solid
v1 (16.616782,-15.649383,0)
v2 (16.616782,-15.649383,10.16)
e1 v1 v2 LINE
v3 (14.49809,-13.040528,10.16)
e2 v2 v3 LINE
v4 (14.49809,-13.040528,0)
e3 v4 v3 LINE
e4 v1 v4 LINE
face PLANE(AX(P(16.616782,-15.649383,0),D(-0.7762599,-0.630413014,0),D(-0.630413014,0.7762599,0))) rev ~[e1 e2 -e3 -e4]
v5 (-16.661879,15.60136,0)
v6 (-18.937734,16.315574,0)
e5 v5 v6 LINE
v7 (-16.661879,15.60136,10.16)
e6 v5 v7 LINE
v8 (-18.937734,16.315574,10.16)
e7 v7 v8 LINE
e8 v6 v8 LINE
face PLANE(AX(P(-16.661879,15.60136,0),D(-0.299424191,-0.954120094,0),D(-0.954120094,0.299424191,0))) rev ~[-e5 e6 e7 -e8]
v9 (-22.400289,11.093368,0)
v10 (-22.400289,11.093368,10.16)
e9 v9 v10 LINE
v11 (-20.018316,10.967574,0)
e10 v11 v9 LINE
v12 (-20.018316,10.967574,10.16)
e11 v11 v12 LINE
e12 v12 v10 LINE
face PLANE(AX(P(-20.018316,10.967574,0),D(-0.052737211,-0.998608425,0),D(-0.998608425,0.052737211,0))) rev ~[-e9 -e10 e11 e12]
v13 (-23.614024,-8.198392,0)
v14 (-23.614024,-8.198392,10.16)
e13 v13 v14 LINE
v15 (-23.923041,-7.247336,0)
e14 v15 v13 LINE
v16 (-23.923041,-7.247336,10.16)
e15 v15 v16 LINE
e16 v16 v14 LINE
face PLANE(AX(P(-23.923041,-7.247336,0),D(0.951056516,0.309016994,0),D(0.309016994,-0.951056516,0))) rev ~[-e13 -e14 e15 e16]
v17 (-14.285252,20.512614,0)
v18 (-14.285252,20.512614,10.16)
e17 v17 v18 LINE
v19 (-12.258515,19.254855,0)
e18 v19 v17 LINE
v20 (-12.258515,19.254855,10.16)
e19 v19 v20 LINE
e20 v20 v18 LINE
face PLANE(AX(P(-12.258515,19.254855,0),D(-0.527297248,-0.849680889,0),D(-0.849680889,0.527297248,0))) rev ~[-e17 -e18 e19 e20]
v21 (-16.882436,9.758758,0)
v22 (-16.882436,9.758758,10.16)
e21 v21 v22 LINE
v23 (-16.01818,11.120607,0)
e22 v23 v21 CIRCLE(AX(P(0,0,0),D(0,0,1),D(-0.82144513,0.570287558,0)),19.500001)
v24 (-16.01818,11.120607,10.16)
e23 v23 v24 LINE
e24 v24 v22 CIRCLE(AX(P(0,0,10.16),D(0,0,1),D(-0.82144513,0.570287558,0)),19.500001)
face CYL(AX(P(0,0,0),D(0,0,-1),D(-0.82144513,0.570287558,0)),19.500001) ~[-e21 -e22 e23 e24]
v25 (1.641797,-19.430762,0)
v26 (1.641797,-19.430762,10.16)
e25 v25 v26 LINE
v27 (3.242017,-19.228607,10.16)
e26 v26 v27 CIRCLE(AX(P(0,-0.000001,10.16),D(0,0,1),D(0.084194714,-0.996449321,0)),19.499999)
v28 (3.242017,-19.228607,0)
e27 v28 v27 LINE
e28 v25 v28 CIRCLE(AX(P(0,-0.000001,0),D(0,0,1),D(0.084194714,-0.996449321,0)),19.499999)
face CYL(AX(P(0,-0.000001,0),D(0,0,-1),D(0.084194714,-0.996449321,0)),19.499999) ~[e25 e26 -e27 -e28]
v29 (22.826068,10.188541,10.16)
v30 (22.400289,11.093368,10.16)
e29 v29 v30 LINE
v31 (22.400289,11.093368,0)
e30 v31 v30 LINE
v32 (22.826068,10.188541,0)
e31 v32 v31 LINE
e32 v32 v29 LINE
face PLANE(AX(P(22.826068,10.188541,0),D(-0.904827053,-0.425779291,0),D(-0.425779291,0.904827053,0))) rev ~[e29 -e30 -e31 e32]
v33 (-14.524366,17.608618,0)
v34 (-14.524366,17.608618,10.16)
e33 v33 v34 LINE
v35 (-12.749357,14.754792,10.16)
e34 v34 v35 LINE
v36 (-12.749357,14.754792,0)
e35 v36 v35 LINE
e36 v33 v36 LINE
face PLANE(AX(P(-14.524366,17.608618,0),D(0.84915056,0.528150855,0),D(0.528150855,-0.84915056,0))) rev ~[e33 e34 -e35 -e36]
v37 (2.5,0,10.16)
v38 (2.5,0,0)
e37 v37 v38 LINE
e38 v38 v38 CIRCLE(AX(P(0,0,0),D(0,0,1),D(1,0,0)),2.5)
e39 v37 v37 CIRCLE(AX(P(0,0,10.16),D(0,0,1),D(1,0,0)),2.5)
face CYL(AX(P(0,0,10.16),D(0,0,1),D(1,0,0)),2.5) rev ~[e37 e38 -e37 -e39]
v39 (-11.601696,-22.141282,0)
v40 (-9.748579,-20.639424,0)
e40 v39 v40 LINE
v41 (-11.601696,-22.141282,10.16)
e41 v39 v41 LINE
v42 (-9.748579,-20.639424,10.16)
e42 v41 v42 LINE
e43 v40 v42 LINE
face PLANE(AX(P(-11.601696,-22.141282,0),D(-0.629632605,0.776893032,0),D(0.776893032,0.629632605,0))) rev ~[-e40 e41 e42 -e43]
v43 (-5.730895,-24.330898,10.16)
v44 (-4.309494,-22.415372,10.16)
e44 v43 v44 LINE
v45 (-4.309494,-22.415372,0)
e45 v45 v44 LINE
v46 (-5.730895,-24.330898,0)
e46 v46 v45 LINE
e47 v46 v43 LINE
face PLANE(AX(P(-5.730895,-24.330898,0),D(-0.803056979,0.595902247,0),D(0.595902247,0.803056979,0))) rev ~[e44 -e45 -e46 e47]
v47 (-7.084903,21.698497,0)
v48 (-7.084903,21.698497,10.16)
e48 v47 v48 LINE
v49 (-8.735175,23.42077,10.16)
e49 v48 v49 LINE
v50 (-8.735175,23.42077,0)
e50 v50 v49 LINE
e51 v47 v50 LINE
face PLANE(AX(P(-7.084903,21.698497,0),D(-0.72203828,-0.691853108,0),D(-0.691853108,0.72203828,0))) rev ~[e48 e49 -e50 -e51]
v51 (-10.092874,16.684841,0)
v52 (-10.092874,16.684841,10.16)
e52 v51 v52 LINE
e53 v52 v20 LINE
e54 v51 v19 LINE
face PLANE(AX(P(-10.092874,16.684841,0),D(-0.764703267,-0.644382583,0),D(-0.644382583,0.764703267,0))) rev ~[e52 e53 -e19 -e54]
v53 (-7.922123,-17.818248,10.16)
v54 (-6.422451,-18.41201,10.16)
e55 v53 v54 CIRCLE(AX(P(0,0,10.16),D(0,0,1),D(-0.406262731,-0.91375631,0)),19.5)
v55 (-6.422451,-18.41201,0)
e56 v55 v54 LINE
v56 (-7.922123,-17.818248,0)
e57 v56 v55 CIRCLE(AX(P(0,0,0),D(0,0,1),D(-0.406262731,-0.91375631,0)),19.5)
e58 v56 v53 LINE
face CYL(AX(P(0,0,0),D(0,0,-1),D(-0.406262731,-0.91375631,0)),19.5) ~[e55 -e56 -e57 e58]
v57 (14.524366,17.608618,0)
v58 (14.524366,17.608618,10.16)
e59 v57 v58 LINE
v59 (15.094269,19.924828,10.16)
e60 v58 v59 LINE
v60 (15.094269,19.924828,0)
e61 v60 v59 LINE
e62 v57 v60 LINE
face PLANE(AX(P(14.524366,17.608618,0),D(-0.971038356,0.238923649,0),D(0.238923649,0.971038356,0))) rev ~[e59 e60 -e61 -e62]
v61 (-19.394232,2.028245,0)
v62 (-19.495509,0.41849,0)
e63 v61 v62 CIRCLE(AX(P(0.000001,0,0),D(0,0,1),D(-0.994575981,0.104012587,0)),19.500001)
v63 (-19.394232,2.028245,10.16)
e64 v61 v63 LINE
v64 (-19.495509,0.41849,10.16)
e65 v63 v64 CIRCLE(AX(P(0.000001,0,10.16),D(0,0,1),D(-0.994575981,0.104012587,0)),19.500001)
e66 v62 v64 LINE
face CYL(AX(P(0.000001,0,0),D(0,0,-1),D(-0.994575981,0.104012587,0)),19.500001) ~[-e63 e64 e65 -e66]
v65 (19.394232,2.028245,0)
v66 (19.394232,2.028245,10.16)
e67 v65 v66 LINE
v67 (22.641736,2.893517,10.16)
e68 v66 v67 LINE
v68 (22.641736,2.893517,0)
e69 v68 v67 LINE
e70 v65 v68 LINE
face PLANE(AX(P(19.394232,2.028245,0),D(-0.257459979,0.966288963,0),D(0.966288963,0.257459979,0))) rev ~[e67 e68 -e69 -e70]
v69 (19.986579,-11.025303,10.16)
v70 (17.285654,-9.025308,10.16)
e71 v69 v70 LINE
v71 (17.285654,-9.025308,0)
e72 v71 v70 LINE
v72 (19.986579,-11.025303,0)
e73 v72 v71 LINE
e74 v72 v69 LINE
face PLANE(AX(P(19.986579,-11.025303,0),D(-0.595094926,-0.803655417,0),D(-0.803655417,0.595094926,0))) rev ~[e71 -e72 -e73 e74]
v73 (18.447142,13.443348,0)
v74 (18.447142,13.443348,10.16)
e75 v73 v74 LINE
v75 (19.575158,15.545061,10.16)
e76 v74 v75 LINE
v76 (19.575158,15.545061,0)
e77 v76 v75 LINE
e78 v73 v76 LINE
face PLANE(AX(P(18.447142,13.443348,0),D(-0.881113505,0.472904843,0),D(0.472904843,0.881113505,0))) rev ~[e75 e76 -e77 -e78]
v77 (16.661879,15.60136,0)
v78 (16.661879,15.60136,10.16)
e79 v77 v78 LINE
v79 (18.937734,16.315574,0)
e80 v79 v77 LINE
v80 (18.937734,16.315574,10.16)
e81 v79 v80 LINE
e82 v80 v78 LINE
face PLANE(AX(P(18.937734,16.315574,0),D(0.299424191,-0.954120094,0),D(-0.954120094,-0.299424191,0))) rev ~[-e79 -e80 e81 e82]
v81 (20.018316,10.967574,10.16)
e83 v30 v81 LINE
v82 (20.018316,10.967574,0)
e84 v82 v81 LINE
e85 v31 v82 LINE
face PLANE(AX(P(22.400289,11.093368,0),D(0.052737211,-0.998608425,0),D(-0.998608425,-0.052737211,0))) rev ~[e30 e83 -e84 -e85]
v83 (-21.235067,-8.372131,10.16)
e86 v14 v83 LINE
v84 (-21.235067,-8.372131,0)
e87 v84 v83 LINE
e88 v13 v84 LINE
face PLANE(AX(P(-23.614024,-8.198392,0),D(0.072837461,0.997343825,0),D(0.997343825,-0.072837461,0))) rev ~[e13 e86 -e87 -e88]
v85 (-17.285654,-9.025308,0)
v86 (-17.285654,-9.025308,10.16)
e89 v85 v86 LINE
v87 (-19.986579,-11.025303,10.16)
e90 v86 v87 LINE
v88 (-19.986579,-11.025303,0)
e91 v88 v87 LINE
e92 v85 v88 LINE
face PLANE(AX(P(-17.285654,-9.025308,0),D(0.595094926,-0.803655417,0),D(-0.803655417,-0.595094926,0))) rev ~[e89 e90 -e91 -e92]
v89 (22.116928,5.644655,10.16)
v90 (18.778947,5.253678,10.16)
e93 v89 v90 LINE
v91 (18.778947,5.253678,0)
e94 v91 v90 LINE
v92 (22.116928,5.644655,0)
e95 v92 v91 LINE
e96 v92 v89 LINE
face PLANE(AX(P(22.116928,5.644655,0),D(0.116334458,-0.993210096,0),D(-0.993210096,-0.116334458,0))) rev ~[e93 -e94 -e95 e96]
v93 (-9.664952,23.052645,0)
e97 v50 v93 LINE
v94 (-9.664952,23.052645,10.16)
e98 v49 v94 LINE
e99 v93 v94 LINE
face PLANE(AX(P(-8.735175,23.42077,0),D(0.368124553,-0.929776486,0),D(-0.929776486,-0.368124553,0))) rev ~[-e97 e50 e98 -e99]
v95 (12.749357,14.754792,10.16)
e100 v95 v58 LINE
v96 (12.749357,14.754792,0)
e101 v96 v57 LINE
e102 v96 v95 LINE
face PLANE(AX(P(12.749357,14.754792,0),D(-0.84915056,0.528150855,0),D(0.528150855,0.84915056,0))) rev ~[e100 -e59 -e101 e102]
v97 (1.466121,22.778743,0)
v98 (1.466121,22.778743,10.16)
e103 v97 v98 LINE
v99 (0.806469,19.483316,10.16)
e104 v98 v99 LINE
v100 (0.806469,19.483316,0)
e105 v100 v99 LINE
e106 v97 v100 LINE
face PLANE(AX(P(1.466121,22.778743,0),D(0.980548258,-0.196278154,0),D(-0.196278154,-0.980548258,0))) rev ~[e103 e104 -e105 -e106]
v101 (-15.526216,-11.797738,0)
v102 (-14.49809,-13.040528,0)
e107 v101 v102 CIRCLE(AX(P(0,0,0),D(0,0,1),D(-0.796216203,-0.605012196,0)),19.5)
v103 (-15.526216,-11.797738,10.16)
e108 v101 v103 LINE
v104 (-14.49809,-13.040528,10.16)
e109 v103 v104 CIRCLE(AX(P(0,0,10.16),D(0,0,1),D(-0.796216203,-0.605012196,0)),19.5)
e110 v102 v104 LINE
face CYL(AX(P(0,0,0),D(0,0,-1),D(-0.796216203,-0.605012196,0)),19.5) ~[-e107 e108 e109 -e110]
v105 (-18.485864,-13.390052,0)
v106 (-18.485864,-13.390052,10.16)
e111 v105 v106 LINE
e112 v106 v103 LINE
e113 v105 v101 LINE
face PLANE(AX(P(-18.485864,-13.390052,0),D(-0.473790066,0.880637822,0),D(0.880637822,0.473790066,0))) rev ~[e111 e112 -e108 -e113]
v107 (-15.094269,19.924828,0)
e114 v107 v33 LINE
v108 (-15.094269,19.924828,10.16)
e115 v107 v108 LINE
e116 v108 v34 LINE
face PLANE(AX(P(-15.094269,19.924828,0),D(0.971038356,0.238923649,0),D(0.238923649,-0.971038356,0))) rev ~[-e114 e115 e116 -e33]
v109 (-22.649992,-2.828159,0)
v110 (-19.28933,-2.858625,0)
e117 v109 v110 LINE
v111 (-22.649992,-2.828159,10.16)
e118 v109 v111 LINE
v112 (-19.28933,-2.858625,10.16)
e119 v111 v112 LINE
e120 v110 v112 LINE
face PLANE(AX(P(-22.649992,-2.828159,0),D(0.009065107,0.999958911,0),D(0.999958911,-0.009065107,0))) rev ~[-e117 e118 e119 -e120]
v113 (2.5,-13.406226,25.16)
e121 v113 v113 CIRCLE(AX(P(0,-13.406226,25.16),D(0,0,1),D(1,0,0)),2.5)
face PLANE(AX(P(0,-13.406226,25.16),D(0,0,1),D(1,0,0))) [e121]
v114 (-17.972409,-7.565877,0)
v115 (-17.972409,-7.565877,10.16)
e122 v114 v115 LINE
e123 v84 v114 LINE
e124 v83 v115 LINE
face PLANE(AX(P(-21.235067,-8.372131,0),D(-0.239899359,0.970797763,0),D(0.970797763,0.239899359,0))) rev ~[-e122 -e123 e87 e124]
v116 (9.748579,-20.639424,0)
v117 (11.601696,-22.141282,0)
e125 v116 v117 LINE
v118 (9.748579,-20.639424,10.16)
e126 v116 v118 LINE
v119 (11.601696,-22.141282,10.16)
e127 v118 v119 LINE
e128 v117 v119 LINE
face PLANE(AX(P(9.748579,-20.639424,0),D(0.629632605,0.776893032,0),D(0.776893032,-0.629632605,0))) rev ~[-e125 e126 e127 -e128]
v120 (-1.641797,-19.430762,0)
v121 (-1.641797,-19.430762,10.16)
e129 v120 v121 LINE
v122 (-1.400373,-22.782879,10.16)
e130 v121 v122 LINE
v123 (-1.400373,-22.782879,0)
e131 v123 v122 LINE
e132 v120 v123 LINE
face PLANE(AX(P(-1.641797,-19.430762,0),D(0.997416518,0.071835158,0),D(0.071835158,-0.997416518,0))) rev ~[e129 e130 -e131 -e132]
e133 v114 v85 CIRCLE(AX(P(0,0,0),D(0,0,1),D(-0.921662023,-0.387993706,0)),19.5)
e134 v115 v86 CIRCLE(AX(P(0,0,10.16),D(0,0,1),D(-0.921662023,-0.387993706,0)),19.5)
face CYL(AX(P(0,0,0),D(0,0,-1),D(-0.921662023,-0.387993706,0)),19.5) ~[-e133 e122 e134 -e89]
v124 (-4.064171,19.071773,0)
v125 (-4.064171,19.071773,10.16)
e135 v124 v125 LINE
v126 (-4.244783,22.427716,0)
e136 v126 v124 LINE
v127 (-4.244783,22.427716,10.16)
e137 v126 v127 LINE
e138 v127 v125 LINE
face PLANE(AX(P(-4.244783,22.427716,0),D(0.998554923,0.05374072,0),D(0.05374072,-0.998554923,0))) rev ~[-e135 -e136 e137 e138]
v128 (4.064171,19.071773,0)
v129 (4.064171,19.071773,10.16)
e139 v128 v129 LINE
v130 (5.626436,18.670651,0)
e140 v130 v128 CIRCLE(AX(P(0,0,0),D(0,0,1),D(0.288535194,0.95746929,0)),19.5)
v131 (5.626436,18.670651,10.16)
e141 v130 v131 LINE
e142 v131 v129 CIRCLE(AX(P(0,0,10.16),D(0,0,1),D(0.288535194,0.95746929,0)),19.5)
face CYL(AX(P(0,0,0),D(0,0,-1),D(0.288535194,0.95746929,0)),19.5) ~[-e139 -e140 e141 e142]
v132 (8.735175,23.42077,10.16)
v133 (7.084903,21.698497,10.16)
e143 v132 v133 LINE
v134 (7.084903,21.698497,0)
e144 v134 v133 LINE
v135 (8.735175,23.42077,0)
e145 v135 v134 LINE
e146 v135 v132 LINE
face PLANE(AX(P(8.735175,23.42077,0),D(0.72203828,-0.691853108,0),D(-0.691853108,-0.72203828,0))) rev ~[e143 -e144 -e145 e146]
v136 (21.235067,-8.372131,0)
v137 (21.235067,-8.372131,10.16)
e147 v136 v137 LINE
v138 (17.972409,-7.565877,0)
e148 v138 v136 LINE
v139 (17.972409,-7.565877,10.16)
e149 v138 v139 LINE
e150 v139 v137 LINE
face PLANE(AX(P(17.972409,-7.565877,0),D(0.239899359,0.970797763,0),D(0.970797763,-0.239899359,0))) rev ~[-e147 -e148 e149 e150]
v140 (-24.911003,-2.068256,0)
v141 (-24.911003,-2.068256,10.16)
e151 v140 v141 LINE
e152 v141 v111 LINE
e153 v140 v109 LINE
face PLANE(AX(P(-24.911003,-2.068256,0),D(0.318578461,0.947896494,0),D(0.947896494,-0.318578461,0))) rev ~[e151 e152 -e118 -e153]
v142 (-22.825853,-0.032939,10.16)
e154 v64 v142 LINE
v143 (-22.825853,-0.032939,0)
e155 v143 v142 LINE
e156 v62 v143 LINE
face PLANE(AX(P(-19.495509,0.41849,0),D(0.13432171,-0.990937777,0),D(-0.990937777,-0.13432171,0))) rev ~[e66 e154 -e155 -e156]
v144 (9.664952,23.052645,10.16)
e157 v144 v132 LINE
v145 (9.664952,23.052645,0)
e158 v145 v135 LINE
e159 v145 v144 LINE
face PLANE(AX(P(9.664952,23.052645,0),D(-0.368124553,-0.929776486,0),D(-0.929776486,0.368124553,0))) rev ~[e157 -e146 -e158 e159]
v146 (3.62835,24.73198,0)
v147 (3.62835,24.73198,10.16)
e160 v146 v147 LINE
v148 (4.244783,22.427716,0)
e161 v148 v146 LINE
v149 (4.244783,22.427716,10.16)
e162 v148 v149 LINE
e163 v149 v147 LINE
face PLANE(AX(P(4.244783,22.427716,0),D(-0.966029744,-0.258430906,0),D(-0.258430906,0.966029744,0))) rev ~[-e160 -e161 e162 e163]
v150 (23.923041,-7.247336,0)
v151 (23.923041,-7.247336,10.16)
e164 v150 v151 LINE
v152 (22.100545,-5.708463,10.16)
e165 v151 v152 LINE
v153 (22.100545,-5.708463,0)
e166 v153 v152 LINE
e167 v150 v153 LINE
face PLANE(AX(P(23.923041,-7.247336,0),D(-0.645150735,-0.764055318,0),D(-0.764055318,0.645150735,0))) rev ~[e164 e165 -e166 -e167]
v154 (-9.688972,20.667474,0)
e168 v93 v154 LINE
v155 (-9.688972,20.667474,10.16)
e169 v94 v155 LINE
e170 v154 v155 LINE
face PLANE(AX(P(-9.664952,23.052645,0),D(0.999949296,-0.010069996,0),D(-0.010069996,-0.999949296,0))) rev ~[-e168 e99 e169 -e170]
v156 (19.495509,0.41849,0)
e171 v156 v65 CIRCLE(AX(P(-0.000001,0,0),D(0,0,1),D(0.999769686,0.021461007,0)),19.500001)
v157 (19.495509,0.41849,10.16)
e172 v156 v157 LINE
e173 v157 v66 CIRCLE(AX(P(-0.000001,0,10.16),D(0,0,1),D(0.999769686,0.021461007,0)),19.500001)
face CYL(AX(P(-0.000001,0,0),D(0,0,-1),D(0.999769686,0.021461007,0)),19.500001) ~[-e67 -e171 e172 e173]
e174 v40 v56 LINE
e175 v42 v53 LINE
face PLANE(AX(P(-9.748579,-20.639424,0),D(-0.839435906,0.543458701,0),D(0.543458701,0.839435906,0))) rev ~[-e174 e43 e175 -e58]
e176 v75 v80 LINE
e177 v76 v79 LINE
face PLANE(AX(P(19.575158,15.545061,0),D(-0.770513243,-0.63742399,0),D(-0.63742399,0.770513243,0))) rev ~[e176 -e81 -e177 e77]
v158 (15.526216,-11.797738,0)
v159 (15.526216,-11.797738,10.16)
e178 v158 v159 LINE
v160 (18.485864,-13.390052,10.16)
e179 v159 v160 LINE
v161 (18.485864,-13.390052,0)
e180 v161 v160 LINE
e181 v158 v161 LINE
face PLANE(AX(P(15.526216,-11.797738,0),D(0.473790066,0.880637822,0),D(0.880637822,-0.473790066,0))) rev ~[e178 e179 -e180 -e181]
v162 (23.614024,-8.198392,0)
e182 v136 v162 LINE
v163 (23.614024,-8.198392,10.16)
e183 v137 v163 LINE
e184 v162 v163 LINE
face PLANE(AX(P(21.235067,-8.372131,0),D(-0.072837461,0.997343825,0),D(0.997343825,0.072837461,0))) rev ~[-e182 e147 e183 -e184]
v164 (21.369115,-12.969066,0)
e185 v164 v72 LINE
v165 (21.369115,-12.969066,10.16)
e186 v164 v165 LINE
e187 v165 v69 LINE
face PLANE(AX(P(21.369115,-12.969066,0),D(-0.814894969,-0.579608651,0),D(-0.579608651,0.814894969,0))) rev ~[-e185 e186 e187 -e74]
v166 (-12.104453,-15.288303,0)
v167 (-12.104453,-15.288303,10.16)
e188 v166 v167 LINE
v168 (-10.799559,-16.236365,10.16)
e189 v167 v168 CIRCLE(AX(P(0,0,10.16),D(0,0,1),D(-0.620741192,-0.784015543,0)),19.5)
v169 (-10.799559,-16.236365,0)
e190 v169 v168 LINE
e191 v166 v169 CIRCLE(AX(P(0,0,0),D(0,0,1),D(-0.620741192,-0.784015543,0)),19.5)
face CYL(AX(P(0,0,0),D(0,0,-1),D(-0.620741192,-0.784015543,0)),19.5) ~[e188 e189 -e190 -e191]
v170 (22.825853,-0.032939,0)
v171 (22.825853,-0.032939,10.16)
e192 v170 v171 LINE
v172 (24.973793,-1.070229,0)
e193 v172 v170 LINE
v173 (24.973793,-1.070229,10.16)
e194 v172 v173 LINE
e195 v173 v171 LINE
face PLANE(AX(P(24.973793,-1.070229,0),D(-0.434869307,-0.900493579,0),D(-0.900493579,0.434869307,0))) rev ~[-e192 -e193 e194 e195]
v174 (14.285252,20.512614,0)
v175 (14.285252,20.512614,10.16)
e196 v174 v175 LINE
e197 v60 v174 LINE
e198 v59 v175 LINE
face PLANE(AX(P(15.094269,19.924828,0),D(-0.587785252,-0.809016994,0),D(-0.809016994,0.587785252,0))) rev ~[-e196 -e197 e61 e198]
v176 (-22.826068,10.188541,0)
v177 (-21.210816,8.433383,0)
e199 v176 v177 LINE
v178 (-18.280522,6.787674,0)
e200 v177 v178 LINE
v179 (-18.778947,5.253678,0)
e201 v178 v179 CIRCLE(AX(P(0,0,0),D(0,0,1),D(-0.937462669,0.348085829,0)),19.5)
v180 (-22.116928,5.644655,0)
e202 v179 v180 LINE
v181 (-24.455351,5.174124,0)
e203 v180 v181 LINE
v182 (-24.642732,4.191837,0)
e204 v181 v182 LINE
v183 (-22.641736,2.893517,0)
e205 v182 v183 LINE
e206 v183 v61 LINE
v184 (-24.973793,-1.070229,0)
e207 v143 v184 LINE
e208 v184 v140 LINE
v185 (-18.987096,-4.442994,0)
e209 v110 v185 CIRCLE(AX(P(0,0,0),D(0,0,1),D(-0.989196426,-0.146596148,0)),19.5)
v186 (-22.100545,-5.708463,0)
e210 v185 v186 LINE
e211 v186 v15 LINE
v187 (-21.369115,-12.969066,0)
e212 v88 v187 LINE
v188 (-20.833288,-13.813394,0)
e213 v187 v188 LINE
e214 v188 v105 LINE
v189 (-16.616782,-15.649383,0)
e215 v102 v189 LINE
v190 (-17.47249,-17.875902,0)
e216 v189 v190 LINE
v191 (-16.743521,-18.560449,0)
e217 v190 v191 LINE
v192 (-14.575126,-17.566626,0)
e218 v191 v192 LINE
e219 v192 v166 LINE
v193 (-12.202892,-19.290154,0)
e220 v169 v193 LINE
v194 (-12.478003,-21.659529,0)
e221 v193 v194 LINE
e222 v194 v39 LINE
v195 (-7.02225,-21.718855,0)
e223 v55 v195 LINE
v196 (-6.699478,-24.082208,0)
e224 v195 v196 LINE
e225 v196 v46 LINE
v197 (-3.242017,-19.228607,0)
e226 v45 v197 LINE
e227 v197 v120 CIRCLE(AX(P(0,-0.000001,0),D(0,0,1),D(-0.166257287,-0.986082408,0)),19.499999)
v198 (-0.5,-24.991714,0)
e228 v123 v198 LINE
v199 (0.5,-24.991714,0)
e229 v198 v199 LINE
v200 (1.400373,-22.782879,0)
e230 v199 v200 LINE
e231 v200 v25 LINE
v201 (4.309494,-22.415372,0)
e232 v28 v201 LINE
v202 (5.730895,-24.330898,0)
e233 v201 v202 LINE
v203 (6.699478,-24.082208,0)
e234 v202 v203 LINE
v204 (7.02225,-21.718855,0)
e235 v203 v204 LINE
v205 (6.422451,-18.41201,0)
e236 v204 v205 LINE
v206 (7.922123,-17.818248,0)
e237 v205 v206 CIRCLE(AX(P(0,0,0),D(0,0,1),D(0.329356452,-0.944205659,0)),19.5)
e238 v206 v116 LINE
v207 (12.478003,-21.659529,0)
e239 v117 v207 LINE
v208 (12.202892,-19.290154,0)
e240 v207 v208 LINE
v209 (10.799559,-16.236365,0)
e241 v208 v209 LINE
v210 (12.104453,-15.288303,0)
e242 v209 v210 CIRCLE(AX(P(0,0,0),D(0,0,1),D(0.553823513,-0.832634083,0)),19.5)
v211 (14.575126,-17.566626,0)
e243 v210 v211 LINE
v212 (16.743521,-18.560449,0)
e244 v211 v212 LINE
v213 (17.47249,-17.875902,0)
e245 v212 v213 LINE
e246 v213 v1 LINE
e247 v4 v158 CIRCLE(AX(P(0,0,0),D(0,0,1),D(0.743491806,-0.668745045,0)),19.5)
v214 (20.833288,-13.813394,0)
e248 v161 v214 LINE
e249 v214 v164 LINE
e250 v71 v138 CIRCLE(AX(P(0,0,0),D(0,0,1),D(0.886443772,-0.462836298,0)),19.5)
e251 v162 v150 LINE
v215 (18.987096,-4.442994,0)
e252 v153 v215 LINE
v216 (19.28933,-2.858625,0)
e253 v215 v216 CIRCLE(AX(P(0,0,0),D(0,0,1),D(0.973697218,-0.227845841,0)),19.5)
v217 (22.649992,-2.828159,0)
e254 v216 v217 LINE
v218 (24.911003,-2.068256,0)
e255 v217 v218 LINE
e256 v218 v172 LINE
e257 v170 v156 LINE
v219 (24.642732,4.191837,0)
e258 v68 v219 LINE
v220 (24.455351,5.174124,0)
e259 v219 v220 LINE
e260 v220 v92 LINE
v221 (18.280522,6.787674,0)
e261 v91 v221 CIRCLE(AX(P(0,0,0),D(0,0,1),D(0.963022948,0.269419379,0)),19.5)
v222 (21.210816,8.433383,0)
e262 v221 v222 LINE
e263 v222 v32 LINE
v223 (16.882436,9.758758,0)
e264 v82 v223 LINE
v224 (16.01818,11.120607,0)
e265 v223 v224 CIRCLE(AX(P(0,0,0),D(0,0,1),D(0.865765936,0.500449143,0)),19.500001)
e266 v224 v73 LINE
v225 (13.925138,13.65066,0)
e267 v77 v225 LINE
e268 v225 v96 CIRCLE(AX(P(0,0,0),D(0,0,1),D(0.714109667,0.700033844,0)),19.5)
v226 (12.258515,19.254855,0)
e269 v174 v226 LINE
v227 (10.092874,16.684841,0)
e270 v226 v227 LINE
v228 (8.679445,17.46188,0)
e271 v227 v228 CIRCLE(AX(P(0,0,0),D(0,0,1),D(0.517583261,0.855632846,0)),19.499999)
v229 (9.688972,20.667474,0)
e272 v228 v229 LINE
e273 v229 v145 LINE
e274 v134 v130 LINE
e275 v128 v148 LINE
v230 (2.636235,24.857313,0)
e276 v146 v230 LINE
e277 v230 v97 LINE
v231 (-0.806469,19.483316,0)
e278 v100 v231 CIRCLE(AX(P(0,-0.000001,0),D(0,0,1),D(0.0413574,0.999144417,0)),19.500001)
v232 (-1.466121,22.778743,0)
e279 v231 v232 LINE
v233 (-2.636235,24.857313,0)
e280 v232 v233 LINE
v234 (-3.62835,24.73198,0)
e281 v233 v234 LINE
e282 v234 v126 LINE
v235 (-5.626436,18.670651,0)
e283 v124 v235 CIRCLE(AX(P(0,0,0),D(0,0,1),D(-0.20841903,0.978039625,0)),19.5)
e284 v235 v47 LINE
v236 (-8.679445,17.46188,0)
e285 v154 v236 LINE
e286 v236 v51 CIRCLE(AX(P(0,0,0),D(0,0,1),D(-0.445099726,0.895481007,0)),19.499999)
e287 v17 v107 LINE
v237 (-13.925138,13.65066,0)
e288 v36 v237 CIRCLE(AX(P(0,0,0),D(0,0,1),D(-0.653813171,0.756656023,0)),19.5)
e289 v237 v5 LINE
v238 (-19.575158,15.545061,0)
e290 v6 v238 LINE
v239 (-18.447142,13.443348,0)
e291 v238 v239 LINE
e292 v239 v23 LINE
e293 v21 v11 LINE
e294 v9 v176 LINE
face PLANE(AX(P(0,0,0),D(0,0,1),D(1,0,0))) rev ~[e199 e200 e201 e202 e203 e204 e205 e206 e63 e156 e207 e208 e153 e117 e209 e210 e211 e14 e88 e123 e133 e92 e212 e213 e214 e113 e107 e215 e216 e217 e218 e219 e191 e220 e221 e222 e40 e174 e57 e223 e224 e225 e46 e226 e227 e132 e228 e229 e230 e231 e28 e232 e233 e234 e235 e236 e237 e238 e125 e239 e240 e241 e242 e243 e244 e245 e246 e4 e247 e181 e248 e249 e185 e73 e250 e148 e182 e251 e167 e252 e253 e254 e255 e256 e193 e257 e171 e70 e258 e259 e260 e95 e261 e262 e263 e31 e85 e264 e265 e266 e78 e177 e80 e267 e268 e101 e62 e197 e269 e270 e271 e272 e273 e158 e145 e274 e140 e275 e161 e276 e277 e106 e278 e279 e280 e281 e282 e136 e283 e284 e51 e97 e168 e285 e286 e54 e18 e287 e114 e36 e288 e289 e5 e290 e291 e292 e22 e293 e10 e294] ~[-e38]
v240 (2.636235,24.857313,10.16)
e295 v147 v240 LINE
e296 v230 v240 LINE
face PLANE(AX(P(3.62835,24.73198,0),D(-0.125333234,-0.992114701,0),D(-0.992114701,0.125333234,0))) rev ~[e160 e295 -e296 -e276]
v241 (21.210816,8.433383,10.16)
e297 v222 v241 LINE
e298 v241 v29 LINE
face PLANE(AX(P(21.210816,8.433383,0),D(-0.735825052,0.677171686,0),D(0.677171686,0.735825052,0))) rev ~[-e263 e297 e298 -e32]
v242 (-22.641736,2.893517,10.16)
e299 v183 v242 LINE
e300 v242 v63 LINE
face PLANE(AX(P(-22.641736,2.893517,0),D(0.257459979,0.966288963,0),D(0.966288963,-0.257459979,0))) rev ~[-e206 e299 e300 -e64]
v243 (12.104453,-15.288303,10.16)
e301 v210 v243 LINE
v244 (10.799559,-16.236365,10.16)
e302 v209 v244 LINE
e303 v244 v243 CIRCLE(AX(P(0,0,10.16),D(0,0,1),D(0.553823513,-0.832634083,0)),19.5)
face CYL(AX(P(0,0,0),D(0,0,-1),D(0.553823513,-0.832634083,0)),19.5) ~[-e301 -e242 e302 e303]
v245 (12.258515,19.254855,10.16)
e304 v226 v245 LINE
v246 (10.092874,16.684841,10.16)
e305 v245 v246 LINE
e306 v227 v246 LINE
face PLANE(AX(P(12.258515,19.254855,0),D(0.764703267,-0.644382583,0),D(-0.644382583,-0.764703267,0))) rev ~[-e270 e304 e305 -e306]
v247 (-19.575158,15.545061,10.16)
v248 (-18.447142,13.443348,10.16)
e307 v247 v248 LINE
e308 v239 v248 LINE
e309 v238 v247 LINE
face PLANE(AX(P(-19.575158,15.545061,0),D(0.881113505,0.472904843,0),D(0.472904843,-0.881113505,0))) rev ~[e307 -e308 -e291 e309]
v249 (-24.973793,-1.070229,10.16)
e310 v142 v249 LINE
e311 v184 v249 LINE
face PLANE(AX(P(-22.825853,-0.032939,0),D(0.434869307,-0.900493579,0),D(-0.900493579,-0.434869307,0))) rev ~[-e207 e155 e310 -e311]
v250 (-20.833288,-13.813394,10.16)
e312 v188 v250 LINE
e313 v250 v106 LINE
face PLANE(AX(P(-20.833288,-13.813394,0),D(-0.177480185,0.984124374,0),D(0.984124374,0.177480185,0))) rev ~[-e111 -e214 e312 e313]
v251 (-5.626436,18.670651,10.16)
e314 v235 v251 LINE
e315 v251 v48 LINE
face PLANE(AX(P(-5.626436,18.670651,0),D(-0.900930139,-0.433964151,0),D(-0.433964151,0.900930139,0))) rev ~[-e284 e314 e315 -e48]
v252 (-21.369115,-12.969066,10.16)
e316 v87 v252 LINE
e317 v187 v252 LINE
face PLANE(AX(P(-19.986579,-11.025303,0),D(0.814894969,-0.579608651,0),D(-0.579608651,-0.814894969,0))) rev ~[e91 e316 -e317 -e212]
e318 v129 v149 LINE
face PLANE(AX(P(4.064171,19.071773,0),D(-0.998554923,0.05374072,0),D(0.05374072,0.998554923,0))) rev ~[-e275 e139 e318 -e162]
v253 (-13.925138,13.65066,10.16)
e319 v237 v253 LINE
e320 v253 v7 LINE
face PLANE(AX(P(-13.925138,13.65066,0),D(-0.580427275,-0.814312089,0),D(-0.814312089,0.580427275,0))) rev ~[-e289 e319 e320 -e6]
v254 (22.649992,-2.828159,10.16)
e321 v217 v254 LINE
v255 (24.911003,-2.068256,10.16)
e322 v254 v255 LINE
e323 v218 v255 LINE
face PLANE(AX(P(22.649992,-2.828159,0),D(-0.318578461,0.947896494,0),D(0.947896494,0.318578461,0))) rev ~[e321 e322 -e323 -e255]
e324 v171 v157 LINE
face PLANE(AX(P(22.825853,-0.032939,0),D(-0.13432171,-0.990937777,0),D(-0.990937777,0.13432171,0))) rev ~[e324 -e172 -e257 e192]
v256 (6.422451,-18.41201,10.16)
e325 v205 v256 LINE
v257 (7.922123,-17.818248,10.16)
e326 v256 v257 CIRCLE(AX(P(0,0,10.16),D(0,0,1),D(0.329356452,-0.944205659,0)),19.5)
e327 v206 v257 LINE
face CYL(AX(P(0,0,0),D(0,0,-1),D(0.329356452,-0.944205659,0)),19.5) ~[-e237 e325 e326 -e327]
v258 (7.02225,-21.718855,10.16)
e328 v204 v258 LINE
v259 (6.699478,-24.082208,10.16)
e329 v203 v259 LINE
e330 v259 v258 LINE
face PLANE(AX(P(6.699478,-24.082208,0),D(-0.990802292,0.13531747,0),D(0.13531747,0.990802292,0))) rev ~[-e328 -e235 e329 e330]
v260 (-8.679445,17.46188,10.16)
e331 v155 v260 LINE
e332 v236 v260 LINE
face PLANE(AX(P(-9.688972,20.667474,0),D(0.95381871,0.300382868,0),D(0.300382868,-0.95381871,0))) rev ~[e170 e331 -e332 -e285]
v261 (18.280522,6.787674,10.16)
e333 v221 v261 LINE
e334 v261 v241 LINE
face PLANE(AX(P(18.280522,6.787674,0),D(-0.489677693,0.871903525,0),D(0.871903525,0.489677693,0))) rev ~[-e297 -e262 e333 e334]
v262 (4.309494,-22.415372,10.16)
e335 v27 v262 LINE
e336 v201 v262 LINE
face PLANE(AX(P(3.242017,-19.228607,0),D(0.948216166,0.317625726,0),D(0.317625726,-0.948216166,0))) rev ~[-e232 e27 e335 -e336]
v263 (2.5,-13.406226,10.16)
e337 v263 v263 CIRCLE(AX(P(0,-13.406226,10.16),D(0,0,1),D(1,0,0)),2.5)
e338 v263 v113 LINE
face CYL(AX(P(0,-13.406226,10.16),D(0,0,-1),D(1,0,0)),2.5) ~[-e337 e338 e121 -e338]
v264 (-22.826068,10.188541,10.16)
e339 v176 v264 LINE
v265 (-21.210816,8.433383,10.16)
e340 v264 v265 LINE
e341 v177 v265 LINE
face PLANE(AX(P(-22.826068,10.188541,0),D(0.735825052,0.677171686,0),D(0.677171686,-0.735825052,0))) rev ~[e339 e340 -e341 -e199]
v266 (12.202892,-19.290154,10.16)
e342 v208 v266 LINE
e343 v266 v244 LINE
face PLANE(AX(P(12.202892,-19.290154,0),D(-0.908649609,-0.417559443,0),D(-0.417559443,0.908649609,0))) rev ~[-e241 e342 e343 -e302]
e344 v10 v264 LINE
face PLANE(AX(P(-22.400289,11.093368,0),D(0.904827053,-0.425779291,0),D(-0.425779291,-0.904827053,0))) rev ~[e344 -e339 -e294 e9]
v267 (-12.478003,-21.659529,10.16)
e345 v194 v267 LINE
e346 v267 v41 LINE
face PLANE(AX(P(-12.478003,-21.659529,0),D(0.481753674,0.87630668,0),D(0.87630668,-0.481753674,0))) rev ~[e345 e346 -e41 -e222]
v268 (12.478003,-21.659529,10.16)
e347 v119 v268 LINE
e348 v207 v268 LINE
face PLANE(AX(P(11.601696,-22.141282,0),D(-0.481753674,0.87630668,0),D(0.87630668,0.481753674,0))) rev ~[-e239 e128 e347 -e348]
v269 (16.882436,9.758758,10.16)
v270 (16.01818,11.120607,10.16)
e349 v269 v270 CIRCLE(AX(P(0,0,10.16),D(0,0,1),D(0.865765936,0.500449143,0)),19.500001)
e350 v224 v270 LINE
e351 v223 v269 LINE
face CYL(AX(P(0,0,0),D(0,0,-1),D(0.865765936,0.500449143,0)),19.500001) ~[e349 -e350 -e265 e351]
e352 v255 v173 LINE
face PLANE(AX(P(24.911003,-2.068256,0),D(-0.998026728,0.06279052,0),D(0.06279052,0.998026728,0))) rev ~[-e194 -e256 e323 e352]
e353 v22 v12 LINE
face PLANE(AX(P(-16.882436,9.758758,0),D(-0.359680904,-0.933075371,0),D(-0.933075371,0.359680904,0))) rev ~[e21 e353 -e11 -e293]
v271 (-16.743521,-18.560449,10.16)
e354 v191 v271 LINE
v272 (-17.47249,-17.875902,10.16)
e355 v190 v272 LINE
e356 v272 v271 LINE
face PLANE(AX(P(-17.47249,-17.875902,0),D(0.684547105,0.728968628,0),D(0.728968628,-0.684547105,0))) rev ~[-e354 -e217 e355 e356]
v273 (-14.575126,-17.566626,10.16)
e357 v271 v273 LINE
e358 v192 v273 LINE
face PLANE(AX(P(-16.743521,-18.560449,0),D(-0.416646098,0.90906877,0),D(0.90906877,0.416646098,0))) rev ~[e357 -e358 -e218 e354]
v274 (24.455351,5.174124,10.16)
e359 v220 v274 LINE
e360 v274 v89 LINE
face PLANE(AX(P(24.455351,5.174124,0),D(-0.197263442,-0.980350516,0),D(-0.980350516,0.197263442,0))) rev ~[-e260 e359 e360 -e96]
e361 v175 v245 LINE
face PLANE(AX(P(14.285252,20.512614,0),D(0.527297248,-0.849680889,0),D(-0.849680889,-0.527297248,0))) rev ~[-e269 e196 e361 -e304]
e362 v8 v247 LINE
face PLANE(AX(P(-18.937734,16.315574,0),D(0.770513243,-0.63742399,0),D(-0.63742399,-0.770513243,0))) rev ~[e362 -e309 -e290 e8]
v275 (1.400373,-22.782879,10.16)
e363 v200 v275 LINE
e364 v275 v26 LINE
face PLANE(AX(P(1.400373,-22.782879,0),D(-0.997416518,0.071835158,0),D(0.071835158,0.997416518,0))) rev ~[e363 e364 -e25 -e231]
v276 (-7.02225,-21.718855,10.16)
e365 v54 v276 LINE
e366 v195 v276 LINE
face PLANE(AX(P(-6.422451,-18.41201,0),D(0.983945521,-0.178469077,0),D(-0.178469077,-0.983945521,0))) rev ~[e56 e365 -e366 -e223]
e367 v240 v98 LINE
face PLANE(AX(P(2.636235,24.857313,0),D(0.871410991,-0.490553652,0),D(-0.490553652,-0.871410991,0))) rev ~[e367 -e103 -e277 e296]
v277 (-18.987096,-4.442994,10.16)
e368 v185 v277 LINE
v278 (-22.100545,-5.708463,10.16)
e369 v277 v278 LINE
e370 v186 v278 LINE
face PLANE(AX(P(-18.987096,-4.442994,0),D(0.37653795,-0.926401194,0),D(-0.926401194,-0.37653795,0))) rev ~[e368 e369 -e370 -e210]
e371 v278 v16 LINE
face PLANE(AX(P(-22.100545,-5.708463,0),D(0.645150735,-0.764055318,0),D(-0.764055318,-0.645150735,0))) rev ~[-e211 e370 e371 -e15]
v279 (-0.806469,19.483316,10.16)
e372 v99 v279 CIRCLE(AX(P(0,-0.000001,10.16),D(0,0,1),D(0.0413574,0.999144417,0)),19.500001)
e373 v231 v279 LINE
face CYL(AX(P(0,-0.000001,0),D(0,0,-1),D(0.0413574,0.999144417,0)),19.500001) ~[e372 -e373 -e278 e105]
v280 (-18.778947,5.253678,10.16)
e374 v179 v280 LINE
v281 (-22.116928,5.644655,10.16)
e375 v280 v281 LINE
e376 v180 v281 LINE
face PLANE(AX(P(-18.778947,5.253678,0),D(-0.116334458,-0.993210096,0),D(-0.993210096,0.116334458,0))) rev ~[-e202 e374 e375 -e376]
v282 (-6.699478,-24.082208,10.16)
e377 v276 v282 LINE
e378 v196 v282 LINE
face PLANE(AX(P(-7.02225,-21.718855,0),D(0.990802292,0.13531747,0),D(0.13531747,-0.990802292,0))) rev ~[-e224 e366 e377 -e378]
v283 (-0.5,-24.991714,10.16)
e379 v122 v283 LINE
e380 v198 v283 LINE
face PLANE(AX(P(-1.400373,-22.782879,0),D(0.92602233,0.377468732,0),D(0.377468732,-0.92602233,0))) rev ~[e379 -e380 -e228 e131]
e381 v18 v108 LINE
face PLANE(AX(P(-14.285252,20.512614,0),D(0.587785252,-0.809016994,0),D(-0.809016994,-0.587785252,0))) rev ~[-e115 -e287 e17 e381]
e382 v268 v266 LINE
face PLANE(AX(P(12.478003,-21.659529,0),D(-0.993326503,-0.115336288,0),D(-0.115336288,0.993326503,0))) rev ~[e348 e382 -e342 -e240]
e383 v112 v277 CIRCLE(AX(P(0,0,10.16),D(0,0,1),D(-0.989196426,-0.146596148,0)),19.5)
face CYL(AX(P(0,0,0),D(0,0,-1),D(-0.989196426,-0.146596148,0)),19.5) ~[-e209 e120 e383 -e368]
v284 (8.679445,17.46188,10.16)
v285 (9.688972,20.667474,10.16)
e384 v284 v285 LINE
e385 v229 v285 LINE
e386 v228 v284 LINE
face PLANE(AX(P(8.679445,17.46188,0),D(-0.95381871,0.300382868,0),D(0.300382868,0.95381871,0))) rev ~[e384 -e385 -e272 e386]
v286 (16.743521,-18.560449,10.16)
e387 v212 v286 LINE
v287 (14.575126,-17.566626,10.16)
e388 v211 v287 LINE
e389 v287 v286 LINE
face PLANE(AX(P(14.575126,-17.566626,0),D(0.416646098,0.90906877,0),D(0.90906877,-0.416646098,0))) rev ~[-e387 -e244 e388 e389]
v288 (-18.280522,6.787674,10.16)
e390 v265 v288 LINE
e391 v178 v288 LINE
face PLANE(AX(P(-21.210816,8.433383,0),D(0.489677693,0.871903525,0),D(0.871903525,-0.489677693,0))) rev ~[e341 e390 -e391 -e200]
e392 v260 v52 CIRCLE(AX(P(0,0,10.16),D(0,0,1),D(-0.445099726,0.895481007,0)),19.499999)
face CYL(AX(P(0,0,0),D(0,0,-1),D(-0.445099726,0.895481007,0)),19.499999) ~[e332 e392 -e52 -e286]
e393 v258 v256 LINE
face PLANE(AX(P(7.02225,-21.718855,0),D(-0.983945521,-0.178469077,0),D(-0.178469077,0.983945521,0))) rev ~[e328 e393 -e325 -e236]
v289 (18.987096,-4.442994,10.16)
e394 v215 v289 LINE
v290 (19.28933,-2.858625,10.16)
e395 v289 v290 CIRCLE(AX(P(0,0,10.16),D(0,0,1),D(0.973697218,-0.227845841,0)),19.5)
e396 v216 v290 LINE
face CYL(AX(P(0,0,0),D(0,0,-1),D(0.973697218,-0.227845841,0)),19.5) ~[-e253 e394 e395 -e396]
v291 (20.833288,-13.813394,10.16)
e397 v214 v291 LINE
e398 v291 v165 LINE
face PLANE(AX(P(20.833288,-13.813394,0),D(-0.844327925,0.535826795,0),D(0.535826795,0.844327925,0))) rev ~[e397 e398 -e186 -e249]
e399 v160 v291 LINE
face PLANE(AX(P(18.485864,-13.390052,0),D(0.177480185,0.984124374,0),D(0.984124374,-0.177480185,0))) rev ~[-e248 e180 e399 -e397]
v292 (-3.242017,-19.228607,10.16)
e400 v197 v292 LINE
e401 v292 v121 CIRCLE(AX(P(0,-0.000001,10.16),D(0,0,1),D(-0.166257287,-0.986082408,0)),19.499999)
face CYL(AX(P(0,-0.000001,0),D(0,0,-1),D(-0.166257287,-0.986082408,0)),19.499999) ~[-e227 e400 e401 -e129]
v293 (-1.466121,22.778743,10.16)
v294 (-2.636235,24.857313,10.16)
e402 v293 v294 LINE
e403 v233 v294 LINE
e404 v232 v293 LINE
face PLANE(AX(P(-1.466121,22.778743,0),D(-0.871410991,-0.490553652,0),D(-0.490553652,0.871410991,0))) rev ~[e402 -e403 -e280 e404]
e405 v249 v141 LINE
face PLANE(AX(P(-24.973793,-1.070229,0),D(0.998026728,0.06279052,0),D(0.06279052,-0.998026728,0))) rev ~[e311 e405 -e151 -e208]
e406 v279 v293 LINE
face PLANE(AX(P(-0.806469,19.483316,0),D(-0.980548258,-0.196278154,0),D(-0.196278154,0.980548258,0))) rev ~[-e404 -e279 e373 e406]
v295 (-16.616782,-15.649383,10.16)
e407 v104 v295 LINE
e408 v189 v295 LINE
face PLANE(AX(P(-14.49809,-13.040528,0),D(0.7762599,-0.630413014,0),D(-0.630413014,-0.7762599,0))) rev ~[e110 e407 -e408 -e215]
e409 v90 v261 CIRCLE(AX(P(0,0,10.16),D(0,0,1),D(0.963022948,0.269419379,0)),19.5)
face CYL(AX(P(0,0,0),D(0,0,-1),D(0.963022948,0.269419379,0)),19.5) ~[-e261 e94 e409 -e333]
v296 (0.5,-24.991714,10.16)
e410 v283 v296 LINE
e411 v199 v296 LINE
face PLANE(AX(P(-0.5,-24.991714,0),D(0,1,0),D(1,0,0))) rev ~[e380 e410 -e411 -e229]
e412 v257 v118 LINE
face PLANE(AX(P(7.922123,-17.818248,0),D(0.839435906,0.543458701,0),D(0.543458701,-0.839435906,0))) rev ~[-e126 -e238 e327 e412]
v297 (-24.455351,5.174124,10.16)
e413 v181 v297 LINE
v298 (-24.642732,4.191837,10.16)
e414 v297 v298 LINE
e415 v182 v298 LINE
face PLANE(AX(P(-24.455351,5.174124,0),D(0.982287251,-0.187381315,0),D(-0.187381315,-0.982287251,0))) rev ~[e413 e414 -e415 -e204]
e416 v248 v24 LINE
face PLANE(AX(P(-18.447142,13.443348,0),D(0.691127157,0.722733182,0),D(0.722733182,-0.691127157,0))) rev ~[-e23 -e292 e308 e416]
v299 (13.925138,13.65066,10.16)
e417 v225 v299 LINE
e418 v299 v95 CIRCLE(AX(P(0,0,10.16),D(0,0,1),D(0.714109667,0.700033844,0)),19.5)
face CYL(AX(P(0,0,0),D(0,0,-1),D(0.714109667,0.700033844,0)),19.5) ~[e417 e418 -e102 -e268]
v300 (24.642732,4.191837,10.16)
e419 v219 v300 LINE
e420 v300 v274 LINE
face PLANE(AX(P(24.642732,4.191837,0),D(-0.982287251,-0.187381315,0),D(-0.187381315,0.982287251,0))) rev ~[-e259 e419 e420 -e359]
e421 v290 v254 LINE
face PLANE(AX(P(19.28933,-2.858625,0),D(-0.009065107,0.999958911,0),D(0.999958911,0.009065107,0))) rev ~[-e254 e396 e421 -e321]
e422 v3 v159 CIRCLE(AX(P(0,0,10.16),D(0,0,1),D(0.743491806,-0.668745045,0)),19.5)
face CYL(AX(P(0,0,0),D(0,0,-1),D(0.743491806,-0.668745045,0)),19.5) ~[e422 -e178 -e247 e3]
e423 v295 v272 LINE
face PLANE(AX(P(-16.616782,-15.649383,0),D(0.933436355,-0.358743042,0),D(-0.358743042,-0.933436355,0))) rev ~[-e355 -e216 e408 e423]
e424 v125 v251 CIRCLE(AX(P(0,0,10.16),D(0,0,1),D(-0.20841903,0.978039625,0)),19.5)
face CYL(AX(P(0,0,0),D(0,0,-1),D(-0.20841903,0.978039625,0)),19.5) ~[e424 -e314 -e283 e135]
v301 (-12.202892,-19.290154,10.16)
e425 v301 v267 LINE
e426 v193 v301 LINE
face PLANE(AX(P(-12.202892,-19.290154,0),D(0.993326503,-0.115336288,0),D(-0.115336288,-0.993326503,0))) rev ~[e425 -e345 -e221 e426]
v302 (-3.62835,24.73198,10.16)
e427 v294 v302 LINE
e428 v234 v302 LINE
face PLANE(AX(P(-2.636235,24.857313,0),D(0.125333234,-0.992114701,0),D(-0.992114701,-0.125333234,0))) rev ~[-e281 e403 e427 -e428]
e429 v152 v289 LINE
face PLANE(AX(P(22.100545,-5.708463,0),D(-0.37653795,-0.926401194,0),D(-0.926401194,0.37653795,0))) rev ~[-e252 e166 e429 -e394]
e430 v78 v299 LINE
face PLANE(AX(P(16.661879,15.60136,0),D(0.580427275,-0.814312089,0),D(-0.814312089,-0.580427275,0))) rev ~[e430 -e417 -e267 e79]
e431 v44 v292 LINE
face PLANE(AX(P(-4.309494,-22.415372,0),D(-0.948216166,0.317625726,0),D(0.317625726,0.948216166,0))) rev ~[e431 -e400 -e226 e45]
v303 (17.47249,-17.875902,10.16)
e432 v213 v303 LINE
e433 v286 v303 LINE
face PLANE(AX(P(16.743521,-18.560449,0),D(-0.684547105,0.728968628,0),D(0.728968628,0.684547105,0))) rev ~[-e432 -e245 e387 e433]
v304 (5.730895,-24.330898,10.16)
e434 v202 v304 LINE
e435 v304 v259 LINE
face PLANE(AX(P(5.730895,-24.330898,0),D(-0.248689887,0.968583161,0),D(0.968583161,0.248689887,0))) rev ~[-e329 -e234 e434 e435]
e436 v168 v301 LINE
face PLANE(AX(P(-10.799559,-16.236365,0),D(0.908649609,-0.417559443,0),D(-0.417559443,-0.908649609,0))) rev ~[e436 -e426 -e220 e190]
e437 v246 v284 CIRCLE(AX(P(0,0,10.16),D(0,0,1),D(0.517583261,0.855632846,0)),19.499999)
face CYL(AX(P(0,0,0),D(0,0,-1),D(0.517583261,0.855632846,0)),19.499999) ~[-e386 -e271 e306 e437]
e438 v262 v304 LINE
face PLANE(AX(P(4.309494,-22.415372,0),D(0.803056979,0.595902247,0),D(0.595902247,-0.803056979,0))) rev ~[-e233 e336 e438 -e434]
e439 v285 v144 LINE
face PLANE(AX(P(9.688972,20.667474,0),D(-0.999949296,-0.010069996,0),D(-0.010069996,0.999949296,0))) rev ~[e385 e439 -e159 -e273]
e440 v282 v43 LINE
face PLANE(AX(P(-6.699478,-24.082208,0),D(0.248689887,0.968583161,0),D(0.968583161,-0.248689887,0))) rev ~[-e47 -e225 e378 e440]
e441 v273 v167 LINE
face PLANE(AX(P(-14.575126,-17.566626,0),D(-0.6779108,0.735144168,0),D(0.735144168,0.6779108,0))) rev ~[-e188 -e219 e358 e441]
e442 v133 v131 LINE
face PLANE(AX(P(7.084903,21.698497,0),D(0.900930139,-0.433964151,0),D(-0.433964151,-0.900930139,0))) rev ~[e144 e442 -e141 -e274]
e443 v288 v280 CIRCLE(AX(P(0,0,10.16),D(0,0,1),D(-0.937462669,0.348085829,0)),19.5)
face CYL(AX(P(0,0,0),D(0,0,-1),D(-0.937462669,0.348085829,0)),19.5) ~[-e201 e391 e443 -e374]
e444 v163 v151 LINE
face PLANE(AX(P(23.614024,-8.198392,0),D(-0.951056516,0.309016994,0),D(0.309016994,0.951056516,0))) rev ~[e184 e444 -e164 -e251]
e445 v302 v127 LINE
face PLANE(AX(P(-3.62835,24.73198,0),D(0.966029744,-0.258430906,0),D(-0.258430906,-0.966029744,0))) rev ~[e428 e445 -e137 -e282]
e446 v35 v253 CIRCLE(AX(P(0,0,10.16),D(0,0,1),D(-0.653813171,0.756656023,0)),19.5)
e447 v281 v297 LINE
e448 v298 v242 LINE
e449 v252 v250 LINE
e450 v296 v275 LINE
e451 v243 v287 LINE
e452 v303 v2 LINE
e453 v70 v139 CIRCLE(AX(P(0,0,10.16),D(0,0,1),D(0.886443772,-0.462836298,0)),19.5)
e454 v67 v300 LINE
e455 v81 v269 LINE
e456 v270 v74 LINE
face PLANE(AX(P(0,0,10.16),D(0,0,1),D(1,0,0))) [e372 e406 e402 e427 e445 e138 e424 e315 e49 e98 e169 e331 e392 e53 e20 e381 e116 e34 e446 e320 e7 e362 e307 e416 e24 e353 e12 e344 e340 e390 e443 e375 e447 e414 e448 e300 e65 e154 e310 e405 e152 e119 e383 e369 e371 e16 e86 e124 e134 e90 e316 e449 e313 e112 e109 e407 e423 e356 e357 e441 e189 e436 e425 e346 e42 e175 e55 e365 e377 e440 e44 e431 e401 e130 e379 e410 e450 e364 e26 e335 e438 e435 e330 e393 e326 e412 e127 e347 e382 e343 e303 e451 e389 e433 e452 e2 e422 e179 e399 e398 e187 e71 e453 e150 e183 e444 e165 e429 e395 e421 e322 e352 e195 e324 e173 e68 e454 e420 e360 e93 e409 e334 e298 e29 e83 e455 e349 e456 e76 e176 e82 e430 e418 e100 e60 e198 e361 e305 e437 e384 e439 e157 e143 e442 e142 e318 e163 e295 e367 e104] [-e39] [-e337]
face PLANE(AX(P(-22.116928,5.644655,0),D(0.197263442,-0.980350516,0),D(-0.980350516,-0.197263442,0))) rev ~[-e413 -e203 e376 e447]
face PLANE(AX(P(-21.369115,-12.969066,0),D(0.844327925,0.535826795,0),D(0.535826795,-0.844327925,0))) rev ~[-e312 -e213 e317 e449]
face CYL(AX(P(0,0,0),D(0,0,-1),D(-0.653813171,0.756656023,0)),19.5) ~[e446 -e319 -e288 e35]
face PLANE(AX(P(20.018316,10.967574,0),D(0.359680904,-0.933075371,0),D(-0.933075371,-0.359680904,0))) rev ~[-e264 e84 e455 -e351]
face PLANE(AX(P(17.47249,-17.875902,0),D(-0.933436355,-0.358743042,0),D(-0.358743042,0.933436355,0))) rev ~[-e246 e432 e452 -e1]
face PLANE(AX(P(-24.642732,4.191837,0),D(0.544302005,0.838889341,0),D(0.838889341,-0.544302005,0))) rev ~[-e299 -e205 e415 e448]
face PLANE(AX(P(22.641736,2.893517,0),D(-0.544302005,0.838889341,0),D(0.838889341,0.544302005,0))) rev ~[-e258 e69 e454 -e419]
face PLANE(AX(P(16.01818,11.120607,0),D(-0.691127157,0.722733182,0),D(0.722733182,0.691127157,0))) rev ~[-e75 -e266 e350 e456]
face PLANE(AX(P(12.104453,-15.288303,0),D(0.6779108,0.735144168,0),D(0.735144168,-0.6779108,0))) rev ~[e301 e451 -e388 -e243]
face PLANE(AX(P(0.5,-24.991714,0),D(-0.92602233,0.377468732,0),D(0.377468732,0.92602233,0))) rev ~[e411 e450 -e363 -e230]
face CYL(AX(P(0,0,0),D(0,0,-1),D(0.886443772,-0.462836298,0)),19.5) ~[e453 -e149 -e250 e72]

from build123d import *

# Parameters (mm, degrees)
BOSS_EXTRUDE1_DEPTH = 10.16
SKETCH2_R           = 2.5
CUT_EXTRUDE1_DEPTH  = 10.16
SKETCH5_R           = 2.5
BOSS_EXTRUDE2_DEPTH = 15


with BuildPart() as part:
    # Sketch1 → Boss-Extrude1 (new body)
    with BuildSketch(Plane.XY):
        with BuildLine():
            Line((21.369115072, -12.969065822), (19.986578913, -11.025302977))
            Line((19.986578913, -11.025302977), (17.28565357, -9.025307787))
            ThreePointArc((17.28565357, -9.025307787), (17.644127523, -8.302696186), (17.972409434, -7.565877287))
            Line((17.972409434, -7.565877287), (21.235066822, -8.372131118))
            Line((21.235066822, -8.372131118), (23.614023549, -8.19839247))
            Line((23.614023549, -8.19839247), (23.923040543, -7.247335954))
            Line((23.923040543, -7.247335954), (22.100545137, -5.708462756))
            Line((22.100545137, -5.708462756), (18.987095752, -4.442993911))
            ThreePointArc((18.987095752, -4.442993911), (19.154601389, -3.653935634), (19.289330312, -2.858624865))
            Line((19.289330312, -2.858624865), (22.649992492, -2.828158852))
            Line((22.649992492, -2.828158852), (24.911002874, -2.068256043))
            Line((24.911002874, -2.068256043), (24.973793394, -1.070229315))
            Line((24.973793394, -1.070229315), (22.82585283, -0.032938825))
            Line((22.82585283, -0.032938825), (19.495508879, 0.418489613))
            ThreePointArc((19.495508879, 0.418489613), (19.461521204, 1.224415131), (19.394231625, 2.02824547))
            Line((19.394231625, 2.02824547), (22.641735833, 2.893517036))
            Line((22.641735833, 2.893517036), (24.642732273, 4.191836518))
            Line((24.642732273, 4.191836518), (24.455350958, 5.174123768))
            Line((24.455350958, 5.174123768), (22.116928242, 5.644654774))
            Line((22.116928242, 5.644654774), (18.778947483, 5.253677896))
            ThreePointArc((18.778947483, 5.253677896), (18.545602068, 6.02583139), (18.280522038, 6.787673684))
            Line((18.280522038, 6.787673684), (21.210815641, 8.433382607))
            Line((21.210815641, 8.433382607), (22.826068173, 10.188540573))
            Line((22.826068173, 10.188540573), (22.400288882, 11.093367626))
            Line((22.400288882, 11.093367626), (20.018315712, 10.967573953))
            Line((20.018315712, 10.967573953), (16.882435753, 9.758758274))
            ThreePointArc((16.882435753, 9.758758274), (16.464394547, 10.448622502), (16.01818002, 11.120607396))
            Line((16.01818002, 11.120607396), (18.447141895, 13.443347733))
            Line((18.447141895, 13.443347733), (19.575158262, 15.545061154))
            Line((19.575158262, 15.545061154), (18.937734272, 16.315574397))
            Line((18.937734272, 16.315574397), (16.661878784, 15.601360125))
            Line((16.661878784, 15.601360125), (13.925138495, 13.65065998))
            ThreePointArc((13.925138495, 13.65065998), (13.348668566, 14.214888235), (12.749356841, 14.754792447))
            Line((12.749356841, 14.754792447), (14.524366379, 17.60861788))
            Line((14.524366379, 17.60861788), (15.094269164, 19.924828372))
            Line((15.094269164, 19.924828372), (14.28525217, 20.512613624))
            Line((14.28525217, 20.512613624), (12.258514734, 19.254855463))
            Line((12.258514734, 19.254855463), (10.092873572, 16.684840516))
            ThreePointArc((10.092873572, 16.684840516), (9.394196645, 17.087980261), (8.679444682, 17.461879624))
            Line((8.679444682, 17.461879624), (9.688971507, 20.667473805))
            Line((9.688971507, 20.667473805), (9.664951622, 23.052645345))
            Line((9.664951622, 23.052645345), (8.735175137, 23.420769898))
            Line((8.735175137, 23.420769898), (7.084903119, 21.698497417))
            Line((7.084903119, 21.698497417), (5.626436284, 18.67065116))
            ThreePointArc((5.626436284, 18.67065116), (4.8494528, 18.887371642), (4.064171094, 19.071772684))
            Line((4.064171094, 19.071772684), (4.244782922, 22.427716342))
            Line((4.244782922, 22.427716342), (3.628349625, 24.731979829))
            Line((3.628349625, 24.731979829), (2.636234924, 24.857313063))
            Line((2.636234924, 24.857313063), (1.466120985, 22.778742977))
            Line((1.466120985, 22.778742977), (0.806469312, 19.483316126))
            ThreePointArc((0.806469312, 19.483316126), (0, 19.5), (-0.806469312, 19.483316126))
            Line((-0.806469312, 19.483316126), (-1.466120985, 22.778742977))
            Line((-1.466120985, 22.778742977), (-2.636234924, 24.857313063))
            Line((-2.636234924, 24.857313063), (-3.628349625, 24.731979829))
            Line((-3.628349625, 24.731979829), (-4.244782922, 22.427716342))
            Line((-4.244782922, 22.427716342), (-4.064171094, 19.071772684))
            ThreePointArc((-4.064171094, 19.071772684), (-4.8494528, 18.887371642), (-5.626436284, 18.67065116))
            Line((-5.626436284, 18.67065116), (-7.084903119, 21.698497417))
            Line((-7.084903119, 21.698497417), (-8.735175137, 23.420769898))
            Line((-8.735175137, 23.420769898), (-9.664951622, 23.052645345))
            Line((-9.664951622, 23.052645345), (-9.688971507, 20.667473805))
            Line((-9.688971507, 20.667473805), (-8.679444682, 17.461879624))
            ThreePointArc((-8.679444682, 17.461879624), (-9.394196645, 17.087980261), (-10.092873572, 16.684840516))
            Line((-10.092873572, 16.684840516), (-12.258514734, 19.254855463))
            Line((-12.258514734, 19.254855463), (-14.28525217, 20.512613624))
            Line((-14.28525217, 20.512613624), (-15.094269164, 19.924828372))
            Line((-15.094269164, 19.924828372), (-14.524366379, 17.60861788))
            Line((-14.524366379, 17.60861788), (-12.749356841, 14.754792447))
            ThreePointArc((-12.749356841, 14.754792447), (-13.348668566, 14.214888235), (-13.925138495, 13.65065998))
            Line((-13.925138495, 13.65065998), (-16.661878784, 15.601360125))
            Line((-16.661878784, 15.601360125), (-18.937734272, 16.315574397))
            Line((-18.937734272, 16.315574397), (-19.575158262, 15.545061154))
            Line((-19.575158262, 15.545061154), (-18.447141895, 13.443347733))
            Line((-18.447141895, 13.443347733), (-16.01818002, 11.120607396))
            ThreePointArc((-16.01818002, 11.120607396), (-16.464394547, 10.448622502), (-16.882435753, 9.758758274))
            Line((-16.882435753, 9.758758274), (-20.018315712, 10.967573953))
            Line((-20.018315712, 10.967573953), (-22.400288882, 11.093367626))
            Line((-22.400288882, 11.093367626), (-22.826068173, 10.188540573))
            Line((-22.826068173, 10.188540573), (-21.210815641, 8.433382607))
            Line((-21.210815641, 8.433382607), (-18.280522038, 6.787673684))
            ThreePointArc((-18.280522038, 6.787673684), (-18.545602068, 6.02583139), (-18.778947483, 5.253677896))
            Line((-18.778947483, 5.253677896), (-22.116928242, 5.644654774))
            Line((-22.116928242, 5.644654774), (-24.455350958, 5.174123768))
            Line((-24.455350958, 5.174123768), (-24.642732273, 4.191836518))
            Line((-24.642732273, 4.191836518), (-22.641735833, 2.893517036))
            Line((-22.641735833, 2.893517036), (-19.394231625, 2.02824547))
            ThreePointArc((-19.394231625, 2.02824547), (-19.461521204, 1.224415131), (-19.495508879, 0.418489613))
            Line((-19.495508879, 0.418489613), (-22.82585283, -0.032938825))
            Line((-22.82585283, -0.032938825), (-24.973793394, -1.070229315))
            Line((-24.973793394, -1.070229315), (-24.911002874, -2.068256043))
            Line((-24.911002874, -2.068256043), (-22.649992492, -2.828158852))
            Line((-22.649992492, -2.828158852), (-19.289330312, -2.858624865))
            ThreePointArc((-19.289330312, -2.858624865), (-19.154601389, -3.653935634), (-18.987095752, -4.442993911))
            Line((-18.987095752, -4.442993911), (-22.100545137, -5.708462756))
            Line((-22.100545137, -5.708462756), (-23.923040543, -7.247335954))
            Line((-23.923040543, -7.247335954), (-23.614023549, -8.19839247))
            Line((-23.614023549, -8.19839247), (-21.235066822, -8.372131118))
            Line((-21.235066822, -8.372131118), (-17.972409434, -7.565877287))
            ThreePointArc((-17.972409434, -7.565877287), (-17.644127523, -8.302696186), (-17.28565357, -9.025307787))
            Line((-17.28565357, -9.025307787), (-19.986578913, -11.025302977))
            Line((-19.986578913, -11.025302977), (-21.369115072, -12.969065822))
            Line((-21.369115072, -12.969065822), (-20.833288277, -13.813393747))
            Line((-20.833288277, -13.813393747), (-18.485863806, -13.390051595))
            Line((-18.485863806, -13.390051595), (-15.526215974, -11.797737814))
            ThreePointArc((-15.526215974, -11.797737814), (-15.025008234, -12.4297678), (-14.498090202, -13.040528383))
            Line((-14.498090202, -13.040528383), (-16.61678243, -15.649382865))
            Line((-16.61678243, -15.649382865), (-17.472489512, -17.875901587))
            Line((-17.472489512, -17.875901587), (-16.743520884, -18.560448692))
            Line((-16.743520884, -18.560448692), (-14.575125981, -17.566625886))
            Line((-14.575125981, -17.566625886), (-12.104453263, -15.288303085))
            ThreePointArc((-12.104453263, -15.288303085), (-11.46181242, -15.77583139), (-10.799558506, -16.23636462))
            Line((-10.799558506, -16.23636462), (-12.202892395, -19.290154472))
            Line((-12.202892395, -19.290154472), (-12.478003175, -21.659528712))
            Line((-12.478003175, -21.659528712), (-11.601696495, -22.141282386))
            Line((-11.601696495, -22.141282386), (-9.748579387, -20.639424467))
            Line((-9.748579387, -20.639424467), (-7.922123236, -17.818248046))
            ThreePointArc((-7.922123236, -17.818248046), (-7.178428777, -18.130641475), (-6.422450831, -18.412010355))
            Line((-6.422450831, -18.412010355), (-7.022249752, -21.71885473))
            Line((-7.022249752, -21.71885473), (-6.699478009, -24.08220799))
            Line((-6.699478009, -24.08220799), (-5.730894848, -24.330897877))
            Line((-5.730894848, -24.330897877), (-4.309493697, -22.415372101))
            Line((-4.309493697, -22.415372101), (-3.242017071, -19.228606952))
            ThreePointArc((-3.242017071, -19.228606952), (-2.443998055, -19.346236676), (-1.64179695, -19.430761765))
            Line((-1.64179695, -19.430761765), (-1.40037333, -22.782879469))
            Line((-1.40037333, -22.782879469), (-0.5, -24.991713572))
            Line((-0.5, -24.991713572), (0.5, -24.991713572))
            Line((0.5, -24.991713572), (1.40037333, -22.782879469))
            Line((1.40037333, -22.782879469), (1.64179695, -19.430761765))
            ThreePointArc((1.64179695, -19.430761765), (2.443998055, -19.346236676), (3.242017071, -19.228606952))
            Line((3.242017071, -19.228606952), (4.309493697, -22.415372101))
            Line((4.309493697, -22.415372101), (5.730894848, -24.330897877))
            Line((5.730894848, -24.330897877), (6.699478009, -24.08220799))
            Line((6.699478009, -24.08220799), (7.022249752, -21.71885473))
            Line((7.022249752, -21.71885473), (6.422450831, -18.412010355))
            ThreePointArc((6.422450831, -18.412010355), (7.178428777, -18.130641475), (7.922123236, -17.818248046))
            Line((7.922123236, -17.818248046), (9.748579387, -20.639424467))
            Line((9.748579387, -20.639424467), (11.601696495, -22.141282386))
            Line((11.601696495, -22.141282386), (12.478003175, -21.659528712))
            Line((12.478003175, -21.659528712), (12.202892395, -19.290154472))
            Line((12.202892395, -19.290154472), (10.799558506, -16.23636462))
            ThreePointArc((10.799558506, -16.23636462), (11.46181242, -15.77583139), (12.104453263, -15.288303085))
            Line((12.104453263, -15.288303085), (14.575125981, -17.566625886))
            Line((14.575125981, -17.566625886), (16.743520884, -18.560448692))
            Line((16.743520884, -18.560448692), (17.472489512, -17.875901587))
            Line((17.472489512, -17.875901587), (16.61678243, -15.649382865))
            Line((16.61678243, -15.649382865), (14.498090202, -13.040528383))
            ThreePointArc((14.498090202, -13.040528383), (15.025008234, -12.4297678), (15.526215974, -11.797737814))
            Line((15.526215974, -11.797737814), (18.485863806, -13.390051595))
            Line((18.485863806, -13.390051595), (20.833288277, -13.813393747))
            Line((20.833288277, -13.813393747), (21.369115072, -12.969065822))
        make_face()
    extrude(amount=BOSS_EXTRUDE1_DEPTH)

    # Sketch2 → Cut-Extrude1 (cut)
    with BuildSketch(Plane.XY.offset(10.16)):
        Circle(SKETCH2_R)
    extrude(amount=-CUT_EXTRUDE1_DEPTH, mode=Mode.SUBTRACT)

    # Sketch5 → Boss-Extrude2 (add)
    with BuildSketch(Plane.XY.offset(10.16)):
        with Locations((0, -13.406225592)):
            Circle(SKETCH5_R)
    extrude(amount=BOSS_EXTRUDE2_DEPTH)


solid = part.part
